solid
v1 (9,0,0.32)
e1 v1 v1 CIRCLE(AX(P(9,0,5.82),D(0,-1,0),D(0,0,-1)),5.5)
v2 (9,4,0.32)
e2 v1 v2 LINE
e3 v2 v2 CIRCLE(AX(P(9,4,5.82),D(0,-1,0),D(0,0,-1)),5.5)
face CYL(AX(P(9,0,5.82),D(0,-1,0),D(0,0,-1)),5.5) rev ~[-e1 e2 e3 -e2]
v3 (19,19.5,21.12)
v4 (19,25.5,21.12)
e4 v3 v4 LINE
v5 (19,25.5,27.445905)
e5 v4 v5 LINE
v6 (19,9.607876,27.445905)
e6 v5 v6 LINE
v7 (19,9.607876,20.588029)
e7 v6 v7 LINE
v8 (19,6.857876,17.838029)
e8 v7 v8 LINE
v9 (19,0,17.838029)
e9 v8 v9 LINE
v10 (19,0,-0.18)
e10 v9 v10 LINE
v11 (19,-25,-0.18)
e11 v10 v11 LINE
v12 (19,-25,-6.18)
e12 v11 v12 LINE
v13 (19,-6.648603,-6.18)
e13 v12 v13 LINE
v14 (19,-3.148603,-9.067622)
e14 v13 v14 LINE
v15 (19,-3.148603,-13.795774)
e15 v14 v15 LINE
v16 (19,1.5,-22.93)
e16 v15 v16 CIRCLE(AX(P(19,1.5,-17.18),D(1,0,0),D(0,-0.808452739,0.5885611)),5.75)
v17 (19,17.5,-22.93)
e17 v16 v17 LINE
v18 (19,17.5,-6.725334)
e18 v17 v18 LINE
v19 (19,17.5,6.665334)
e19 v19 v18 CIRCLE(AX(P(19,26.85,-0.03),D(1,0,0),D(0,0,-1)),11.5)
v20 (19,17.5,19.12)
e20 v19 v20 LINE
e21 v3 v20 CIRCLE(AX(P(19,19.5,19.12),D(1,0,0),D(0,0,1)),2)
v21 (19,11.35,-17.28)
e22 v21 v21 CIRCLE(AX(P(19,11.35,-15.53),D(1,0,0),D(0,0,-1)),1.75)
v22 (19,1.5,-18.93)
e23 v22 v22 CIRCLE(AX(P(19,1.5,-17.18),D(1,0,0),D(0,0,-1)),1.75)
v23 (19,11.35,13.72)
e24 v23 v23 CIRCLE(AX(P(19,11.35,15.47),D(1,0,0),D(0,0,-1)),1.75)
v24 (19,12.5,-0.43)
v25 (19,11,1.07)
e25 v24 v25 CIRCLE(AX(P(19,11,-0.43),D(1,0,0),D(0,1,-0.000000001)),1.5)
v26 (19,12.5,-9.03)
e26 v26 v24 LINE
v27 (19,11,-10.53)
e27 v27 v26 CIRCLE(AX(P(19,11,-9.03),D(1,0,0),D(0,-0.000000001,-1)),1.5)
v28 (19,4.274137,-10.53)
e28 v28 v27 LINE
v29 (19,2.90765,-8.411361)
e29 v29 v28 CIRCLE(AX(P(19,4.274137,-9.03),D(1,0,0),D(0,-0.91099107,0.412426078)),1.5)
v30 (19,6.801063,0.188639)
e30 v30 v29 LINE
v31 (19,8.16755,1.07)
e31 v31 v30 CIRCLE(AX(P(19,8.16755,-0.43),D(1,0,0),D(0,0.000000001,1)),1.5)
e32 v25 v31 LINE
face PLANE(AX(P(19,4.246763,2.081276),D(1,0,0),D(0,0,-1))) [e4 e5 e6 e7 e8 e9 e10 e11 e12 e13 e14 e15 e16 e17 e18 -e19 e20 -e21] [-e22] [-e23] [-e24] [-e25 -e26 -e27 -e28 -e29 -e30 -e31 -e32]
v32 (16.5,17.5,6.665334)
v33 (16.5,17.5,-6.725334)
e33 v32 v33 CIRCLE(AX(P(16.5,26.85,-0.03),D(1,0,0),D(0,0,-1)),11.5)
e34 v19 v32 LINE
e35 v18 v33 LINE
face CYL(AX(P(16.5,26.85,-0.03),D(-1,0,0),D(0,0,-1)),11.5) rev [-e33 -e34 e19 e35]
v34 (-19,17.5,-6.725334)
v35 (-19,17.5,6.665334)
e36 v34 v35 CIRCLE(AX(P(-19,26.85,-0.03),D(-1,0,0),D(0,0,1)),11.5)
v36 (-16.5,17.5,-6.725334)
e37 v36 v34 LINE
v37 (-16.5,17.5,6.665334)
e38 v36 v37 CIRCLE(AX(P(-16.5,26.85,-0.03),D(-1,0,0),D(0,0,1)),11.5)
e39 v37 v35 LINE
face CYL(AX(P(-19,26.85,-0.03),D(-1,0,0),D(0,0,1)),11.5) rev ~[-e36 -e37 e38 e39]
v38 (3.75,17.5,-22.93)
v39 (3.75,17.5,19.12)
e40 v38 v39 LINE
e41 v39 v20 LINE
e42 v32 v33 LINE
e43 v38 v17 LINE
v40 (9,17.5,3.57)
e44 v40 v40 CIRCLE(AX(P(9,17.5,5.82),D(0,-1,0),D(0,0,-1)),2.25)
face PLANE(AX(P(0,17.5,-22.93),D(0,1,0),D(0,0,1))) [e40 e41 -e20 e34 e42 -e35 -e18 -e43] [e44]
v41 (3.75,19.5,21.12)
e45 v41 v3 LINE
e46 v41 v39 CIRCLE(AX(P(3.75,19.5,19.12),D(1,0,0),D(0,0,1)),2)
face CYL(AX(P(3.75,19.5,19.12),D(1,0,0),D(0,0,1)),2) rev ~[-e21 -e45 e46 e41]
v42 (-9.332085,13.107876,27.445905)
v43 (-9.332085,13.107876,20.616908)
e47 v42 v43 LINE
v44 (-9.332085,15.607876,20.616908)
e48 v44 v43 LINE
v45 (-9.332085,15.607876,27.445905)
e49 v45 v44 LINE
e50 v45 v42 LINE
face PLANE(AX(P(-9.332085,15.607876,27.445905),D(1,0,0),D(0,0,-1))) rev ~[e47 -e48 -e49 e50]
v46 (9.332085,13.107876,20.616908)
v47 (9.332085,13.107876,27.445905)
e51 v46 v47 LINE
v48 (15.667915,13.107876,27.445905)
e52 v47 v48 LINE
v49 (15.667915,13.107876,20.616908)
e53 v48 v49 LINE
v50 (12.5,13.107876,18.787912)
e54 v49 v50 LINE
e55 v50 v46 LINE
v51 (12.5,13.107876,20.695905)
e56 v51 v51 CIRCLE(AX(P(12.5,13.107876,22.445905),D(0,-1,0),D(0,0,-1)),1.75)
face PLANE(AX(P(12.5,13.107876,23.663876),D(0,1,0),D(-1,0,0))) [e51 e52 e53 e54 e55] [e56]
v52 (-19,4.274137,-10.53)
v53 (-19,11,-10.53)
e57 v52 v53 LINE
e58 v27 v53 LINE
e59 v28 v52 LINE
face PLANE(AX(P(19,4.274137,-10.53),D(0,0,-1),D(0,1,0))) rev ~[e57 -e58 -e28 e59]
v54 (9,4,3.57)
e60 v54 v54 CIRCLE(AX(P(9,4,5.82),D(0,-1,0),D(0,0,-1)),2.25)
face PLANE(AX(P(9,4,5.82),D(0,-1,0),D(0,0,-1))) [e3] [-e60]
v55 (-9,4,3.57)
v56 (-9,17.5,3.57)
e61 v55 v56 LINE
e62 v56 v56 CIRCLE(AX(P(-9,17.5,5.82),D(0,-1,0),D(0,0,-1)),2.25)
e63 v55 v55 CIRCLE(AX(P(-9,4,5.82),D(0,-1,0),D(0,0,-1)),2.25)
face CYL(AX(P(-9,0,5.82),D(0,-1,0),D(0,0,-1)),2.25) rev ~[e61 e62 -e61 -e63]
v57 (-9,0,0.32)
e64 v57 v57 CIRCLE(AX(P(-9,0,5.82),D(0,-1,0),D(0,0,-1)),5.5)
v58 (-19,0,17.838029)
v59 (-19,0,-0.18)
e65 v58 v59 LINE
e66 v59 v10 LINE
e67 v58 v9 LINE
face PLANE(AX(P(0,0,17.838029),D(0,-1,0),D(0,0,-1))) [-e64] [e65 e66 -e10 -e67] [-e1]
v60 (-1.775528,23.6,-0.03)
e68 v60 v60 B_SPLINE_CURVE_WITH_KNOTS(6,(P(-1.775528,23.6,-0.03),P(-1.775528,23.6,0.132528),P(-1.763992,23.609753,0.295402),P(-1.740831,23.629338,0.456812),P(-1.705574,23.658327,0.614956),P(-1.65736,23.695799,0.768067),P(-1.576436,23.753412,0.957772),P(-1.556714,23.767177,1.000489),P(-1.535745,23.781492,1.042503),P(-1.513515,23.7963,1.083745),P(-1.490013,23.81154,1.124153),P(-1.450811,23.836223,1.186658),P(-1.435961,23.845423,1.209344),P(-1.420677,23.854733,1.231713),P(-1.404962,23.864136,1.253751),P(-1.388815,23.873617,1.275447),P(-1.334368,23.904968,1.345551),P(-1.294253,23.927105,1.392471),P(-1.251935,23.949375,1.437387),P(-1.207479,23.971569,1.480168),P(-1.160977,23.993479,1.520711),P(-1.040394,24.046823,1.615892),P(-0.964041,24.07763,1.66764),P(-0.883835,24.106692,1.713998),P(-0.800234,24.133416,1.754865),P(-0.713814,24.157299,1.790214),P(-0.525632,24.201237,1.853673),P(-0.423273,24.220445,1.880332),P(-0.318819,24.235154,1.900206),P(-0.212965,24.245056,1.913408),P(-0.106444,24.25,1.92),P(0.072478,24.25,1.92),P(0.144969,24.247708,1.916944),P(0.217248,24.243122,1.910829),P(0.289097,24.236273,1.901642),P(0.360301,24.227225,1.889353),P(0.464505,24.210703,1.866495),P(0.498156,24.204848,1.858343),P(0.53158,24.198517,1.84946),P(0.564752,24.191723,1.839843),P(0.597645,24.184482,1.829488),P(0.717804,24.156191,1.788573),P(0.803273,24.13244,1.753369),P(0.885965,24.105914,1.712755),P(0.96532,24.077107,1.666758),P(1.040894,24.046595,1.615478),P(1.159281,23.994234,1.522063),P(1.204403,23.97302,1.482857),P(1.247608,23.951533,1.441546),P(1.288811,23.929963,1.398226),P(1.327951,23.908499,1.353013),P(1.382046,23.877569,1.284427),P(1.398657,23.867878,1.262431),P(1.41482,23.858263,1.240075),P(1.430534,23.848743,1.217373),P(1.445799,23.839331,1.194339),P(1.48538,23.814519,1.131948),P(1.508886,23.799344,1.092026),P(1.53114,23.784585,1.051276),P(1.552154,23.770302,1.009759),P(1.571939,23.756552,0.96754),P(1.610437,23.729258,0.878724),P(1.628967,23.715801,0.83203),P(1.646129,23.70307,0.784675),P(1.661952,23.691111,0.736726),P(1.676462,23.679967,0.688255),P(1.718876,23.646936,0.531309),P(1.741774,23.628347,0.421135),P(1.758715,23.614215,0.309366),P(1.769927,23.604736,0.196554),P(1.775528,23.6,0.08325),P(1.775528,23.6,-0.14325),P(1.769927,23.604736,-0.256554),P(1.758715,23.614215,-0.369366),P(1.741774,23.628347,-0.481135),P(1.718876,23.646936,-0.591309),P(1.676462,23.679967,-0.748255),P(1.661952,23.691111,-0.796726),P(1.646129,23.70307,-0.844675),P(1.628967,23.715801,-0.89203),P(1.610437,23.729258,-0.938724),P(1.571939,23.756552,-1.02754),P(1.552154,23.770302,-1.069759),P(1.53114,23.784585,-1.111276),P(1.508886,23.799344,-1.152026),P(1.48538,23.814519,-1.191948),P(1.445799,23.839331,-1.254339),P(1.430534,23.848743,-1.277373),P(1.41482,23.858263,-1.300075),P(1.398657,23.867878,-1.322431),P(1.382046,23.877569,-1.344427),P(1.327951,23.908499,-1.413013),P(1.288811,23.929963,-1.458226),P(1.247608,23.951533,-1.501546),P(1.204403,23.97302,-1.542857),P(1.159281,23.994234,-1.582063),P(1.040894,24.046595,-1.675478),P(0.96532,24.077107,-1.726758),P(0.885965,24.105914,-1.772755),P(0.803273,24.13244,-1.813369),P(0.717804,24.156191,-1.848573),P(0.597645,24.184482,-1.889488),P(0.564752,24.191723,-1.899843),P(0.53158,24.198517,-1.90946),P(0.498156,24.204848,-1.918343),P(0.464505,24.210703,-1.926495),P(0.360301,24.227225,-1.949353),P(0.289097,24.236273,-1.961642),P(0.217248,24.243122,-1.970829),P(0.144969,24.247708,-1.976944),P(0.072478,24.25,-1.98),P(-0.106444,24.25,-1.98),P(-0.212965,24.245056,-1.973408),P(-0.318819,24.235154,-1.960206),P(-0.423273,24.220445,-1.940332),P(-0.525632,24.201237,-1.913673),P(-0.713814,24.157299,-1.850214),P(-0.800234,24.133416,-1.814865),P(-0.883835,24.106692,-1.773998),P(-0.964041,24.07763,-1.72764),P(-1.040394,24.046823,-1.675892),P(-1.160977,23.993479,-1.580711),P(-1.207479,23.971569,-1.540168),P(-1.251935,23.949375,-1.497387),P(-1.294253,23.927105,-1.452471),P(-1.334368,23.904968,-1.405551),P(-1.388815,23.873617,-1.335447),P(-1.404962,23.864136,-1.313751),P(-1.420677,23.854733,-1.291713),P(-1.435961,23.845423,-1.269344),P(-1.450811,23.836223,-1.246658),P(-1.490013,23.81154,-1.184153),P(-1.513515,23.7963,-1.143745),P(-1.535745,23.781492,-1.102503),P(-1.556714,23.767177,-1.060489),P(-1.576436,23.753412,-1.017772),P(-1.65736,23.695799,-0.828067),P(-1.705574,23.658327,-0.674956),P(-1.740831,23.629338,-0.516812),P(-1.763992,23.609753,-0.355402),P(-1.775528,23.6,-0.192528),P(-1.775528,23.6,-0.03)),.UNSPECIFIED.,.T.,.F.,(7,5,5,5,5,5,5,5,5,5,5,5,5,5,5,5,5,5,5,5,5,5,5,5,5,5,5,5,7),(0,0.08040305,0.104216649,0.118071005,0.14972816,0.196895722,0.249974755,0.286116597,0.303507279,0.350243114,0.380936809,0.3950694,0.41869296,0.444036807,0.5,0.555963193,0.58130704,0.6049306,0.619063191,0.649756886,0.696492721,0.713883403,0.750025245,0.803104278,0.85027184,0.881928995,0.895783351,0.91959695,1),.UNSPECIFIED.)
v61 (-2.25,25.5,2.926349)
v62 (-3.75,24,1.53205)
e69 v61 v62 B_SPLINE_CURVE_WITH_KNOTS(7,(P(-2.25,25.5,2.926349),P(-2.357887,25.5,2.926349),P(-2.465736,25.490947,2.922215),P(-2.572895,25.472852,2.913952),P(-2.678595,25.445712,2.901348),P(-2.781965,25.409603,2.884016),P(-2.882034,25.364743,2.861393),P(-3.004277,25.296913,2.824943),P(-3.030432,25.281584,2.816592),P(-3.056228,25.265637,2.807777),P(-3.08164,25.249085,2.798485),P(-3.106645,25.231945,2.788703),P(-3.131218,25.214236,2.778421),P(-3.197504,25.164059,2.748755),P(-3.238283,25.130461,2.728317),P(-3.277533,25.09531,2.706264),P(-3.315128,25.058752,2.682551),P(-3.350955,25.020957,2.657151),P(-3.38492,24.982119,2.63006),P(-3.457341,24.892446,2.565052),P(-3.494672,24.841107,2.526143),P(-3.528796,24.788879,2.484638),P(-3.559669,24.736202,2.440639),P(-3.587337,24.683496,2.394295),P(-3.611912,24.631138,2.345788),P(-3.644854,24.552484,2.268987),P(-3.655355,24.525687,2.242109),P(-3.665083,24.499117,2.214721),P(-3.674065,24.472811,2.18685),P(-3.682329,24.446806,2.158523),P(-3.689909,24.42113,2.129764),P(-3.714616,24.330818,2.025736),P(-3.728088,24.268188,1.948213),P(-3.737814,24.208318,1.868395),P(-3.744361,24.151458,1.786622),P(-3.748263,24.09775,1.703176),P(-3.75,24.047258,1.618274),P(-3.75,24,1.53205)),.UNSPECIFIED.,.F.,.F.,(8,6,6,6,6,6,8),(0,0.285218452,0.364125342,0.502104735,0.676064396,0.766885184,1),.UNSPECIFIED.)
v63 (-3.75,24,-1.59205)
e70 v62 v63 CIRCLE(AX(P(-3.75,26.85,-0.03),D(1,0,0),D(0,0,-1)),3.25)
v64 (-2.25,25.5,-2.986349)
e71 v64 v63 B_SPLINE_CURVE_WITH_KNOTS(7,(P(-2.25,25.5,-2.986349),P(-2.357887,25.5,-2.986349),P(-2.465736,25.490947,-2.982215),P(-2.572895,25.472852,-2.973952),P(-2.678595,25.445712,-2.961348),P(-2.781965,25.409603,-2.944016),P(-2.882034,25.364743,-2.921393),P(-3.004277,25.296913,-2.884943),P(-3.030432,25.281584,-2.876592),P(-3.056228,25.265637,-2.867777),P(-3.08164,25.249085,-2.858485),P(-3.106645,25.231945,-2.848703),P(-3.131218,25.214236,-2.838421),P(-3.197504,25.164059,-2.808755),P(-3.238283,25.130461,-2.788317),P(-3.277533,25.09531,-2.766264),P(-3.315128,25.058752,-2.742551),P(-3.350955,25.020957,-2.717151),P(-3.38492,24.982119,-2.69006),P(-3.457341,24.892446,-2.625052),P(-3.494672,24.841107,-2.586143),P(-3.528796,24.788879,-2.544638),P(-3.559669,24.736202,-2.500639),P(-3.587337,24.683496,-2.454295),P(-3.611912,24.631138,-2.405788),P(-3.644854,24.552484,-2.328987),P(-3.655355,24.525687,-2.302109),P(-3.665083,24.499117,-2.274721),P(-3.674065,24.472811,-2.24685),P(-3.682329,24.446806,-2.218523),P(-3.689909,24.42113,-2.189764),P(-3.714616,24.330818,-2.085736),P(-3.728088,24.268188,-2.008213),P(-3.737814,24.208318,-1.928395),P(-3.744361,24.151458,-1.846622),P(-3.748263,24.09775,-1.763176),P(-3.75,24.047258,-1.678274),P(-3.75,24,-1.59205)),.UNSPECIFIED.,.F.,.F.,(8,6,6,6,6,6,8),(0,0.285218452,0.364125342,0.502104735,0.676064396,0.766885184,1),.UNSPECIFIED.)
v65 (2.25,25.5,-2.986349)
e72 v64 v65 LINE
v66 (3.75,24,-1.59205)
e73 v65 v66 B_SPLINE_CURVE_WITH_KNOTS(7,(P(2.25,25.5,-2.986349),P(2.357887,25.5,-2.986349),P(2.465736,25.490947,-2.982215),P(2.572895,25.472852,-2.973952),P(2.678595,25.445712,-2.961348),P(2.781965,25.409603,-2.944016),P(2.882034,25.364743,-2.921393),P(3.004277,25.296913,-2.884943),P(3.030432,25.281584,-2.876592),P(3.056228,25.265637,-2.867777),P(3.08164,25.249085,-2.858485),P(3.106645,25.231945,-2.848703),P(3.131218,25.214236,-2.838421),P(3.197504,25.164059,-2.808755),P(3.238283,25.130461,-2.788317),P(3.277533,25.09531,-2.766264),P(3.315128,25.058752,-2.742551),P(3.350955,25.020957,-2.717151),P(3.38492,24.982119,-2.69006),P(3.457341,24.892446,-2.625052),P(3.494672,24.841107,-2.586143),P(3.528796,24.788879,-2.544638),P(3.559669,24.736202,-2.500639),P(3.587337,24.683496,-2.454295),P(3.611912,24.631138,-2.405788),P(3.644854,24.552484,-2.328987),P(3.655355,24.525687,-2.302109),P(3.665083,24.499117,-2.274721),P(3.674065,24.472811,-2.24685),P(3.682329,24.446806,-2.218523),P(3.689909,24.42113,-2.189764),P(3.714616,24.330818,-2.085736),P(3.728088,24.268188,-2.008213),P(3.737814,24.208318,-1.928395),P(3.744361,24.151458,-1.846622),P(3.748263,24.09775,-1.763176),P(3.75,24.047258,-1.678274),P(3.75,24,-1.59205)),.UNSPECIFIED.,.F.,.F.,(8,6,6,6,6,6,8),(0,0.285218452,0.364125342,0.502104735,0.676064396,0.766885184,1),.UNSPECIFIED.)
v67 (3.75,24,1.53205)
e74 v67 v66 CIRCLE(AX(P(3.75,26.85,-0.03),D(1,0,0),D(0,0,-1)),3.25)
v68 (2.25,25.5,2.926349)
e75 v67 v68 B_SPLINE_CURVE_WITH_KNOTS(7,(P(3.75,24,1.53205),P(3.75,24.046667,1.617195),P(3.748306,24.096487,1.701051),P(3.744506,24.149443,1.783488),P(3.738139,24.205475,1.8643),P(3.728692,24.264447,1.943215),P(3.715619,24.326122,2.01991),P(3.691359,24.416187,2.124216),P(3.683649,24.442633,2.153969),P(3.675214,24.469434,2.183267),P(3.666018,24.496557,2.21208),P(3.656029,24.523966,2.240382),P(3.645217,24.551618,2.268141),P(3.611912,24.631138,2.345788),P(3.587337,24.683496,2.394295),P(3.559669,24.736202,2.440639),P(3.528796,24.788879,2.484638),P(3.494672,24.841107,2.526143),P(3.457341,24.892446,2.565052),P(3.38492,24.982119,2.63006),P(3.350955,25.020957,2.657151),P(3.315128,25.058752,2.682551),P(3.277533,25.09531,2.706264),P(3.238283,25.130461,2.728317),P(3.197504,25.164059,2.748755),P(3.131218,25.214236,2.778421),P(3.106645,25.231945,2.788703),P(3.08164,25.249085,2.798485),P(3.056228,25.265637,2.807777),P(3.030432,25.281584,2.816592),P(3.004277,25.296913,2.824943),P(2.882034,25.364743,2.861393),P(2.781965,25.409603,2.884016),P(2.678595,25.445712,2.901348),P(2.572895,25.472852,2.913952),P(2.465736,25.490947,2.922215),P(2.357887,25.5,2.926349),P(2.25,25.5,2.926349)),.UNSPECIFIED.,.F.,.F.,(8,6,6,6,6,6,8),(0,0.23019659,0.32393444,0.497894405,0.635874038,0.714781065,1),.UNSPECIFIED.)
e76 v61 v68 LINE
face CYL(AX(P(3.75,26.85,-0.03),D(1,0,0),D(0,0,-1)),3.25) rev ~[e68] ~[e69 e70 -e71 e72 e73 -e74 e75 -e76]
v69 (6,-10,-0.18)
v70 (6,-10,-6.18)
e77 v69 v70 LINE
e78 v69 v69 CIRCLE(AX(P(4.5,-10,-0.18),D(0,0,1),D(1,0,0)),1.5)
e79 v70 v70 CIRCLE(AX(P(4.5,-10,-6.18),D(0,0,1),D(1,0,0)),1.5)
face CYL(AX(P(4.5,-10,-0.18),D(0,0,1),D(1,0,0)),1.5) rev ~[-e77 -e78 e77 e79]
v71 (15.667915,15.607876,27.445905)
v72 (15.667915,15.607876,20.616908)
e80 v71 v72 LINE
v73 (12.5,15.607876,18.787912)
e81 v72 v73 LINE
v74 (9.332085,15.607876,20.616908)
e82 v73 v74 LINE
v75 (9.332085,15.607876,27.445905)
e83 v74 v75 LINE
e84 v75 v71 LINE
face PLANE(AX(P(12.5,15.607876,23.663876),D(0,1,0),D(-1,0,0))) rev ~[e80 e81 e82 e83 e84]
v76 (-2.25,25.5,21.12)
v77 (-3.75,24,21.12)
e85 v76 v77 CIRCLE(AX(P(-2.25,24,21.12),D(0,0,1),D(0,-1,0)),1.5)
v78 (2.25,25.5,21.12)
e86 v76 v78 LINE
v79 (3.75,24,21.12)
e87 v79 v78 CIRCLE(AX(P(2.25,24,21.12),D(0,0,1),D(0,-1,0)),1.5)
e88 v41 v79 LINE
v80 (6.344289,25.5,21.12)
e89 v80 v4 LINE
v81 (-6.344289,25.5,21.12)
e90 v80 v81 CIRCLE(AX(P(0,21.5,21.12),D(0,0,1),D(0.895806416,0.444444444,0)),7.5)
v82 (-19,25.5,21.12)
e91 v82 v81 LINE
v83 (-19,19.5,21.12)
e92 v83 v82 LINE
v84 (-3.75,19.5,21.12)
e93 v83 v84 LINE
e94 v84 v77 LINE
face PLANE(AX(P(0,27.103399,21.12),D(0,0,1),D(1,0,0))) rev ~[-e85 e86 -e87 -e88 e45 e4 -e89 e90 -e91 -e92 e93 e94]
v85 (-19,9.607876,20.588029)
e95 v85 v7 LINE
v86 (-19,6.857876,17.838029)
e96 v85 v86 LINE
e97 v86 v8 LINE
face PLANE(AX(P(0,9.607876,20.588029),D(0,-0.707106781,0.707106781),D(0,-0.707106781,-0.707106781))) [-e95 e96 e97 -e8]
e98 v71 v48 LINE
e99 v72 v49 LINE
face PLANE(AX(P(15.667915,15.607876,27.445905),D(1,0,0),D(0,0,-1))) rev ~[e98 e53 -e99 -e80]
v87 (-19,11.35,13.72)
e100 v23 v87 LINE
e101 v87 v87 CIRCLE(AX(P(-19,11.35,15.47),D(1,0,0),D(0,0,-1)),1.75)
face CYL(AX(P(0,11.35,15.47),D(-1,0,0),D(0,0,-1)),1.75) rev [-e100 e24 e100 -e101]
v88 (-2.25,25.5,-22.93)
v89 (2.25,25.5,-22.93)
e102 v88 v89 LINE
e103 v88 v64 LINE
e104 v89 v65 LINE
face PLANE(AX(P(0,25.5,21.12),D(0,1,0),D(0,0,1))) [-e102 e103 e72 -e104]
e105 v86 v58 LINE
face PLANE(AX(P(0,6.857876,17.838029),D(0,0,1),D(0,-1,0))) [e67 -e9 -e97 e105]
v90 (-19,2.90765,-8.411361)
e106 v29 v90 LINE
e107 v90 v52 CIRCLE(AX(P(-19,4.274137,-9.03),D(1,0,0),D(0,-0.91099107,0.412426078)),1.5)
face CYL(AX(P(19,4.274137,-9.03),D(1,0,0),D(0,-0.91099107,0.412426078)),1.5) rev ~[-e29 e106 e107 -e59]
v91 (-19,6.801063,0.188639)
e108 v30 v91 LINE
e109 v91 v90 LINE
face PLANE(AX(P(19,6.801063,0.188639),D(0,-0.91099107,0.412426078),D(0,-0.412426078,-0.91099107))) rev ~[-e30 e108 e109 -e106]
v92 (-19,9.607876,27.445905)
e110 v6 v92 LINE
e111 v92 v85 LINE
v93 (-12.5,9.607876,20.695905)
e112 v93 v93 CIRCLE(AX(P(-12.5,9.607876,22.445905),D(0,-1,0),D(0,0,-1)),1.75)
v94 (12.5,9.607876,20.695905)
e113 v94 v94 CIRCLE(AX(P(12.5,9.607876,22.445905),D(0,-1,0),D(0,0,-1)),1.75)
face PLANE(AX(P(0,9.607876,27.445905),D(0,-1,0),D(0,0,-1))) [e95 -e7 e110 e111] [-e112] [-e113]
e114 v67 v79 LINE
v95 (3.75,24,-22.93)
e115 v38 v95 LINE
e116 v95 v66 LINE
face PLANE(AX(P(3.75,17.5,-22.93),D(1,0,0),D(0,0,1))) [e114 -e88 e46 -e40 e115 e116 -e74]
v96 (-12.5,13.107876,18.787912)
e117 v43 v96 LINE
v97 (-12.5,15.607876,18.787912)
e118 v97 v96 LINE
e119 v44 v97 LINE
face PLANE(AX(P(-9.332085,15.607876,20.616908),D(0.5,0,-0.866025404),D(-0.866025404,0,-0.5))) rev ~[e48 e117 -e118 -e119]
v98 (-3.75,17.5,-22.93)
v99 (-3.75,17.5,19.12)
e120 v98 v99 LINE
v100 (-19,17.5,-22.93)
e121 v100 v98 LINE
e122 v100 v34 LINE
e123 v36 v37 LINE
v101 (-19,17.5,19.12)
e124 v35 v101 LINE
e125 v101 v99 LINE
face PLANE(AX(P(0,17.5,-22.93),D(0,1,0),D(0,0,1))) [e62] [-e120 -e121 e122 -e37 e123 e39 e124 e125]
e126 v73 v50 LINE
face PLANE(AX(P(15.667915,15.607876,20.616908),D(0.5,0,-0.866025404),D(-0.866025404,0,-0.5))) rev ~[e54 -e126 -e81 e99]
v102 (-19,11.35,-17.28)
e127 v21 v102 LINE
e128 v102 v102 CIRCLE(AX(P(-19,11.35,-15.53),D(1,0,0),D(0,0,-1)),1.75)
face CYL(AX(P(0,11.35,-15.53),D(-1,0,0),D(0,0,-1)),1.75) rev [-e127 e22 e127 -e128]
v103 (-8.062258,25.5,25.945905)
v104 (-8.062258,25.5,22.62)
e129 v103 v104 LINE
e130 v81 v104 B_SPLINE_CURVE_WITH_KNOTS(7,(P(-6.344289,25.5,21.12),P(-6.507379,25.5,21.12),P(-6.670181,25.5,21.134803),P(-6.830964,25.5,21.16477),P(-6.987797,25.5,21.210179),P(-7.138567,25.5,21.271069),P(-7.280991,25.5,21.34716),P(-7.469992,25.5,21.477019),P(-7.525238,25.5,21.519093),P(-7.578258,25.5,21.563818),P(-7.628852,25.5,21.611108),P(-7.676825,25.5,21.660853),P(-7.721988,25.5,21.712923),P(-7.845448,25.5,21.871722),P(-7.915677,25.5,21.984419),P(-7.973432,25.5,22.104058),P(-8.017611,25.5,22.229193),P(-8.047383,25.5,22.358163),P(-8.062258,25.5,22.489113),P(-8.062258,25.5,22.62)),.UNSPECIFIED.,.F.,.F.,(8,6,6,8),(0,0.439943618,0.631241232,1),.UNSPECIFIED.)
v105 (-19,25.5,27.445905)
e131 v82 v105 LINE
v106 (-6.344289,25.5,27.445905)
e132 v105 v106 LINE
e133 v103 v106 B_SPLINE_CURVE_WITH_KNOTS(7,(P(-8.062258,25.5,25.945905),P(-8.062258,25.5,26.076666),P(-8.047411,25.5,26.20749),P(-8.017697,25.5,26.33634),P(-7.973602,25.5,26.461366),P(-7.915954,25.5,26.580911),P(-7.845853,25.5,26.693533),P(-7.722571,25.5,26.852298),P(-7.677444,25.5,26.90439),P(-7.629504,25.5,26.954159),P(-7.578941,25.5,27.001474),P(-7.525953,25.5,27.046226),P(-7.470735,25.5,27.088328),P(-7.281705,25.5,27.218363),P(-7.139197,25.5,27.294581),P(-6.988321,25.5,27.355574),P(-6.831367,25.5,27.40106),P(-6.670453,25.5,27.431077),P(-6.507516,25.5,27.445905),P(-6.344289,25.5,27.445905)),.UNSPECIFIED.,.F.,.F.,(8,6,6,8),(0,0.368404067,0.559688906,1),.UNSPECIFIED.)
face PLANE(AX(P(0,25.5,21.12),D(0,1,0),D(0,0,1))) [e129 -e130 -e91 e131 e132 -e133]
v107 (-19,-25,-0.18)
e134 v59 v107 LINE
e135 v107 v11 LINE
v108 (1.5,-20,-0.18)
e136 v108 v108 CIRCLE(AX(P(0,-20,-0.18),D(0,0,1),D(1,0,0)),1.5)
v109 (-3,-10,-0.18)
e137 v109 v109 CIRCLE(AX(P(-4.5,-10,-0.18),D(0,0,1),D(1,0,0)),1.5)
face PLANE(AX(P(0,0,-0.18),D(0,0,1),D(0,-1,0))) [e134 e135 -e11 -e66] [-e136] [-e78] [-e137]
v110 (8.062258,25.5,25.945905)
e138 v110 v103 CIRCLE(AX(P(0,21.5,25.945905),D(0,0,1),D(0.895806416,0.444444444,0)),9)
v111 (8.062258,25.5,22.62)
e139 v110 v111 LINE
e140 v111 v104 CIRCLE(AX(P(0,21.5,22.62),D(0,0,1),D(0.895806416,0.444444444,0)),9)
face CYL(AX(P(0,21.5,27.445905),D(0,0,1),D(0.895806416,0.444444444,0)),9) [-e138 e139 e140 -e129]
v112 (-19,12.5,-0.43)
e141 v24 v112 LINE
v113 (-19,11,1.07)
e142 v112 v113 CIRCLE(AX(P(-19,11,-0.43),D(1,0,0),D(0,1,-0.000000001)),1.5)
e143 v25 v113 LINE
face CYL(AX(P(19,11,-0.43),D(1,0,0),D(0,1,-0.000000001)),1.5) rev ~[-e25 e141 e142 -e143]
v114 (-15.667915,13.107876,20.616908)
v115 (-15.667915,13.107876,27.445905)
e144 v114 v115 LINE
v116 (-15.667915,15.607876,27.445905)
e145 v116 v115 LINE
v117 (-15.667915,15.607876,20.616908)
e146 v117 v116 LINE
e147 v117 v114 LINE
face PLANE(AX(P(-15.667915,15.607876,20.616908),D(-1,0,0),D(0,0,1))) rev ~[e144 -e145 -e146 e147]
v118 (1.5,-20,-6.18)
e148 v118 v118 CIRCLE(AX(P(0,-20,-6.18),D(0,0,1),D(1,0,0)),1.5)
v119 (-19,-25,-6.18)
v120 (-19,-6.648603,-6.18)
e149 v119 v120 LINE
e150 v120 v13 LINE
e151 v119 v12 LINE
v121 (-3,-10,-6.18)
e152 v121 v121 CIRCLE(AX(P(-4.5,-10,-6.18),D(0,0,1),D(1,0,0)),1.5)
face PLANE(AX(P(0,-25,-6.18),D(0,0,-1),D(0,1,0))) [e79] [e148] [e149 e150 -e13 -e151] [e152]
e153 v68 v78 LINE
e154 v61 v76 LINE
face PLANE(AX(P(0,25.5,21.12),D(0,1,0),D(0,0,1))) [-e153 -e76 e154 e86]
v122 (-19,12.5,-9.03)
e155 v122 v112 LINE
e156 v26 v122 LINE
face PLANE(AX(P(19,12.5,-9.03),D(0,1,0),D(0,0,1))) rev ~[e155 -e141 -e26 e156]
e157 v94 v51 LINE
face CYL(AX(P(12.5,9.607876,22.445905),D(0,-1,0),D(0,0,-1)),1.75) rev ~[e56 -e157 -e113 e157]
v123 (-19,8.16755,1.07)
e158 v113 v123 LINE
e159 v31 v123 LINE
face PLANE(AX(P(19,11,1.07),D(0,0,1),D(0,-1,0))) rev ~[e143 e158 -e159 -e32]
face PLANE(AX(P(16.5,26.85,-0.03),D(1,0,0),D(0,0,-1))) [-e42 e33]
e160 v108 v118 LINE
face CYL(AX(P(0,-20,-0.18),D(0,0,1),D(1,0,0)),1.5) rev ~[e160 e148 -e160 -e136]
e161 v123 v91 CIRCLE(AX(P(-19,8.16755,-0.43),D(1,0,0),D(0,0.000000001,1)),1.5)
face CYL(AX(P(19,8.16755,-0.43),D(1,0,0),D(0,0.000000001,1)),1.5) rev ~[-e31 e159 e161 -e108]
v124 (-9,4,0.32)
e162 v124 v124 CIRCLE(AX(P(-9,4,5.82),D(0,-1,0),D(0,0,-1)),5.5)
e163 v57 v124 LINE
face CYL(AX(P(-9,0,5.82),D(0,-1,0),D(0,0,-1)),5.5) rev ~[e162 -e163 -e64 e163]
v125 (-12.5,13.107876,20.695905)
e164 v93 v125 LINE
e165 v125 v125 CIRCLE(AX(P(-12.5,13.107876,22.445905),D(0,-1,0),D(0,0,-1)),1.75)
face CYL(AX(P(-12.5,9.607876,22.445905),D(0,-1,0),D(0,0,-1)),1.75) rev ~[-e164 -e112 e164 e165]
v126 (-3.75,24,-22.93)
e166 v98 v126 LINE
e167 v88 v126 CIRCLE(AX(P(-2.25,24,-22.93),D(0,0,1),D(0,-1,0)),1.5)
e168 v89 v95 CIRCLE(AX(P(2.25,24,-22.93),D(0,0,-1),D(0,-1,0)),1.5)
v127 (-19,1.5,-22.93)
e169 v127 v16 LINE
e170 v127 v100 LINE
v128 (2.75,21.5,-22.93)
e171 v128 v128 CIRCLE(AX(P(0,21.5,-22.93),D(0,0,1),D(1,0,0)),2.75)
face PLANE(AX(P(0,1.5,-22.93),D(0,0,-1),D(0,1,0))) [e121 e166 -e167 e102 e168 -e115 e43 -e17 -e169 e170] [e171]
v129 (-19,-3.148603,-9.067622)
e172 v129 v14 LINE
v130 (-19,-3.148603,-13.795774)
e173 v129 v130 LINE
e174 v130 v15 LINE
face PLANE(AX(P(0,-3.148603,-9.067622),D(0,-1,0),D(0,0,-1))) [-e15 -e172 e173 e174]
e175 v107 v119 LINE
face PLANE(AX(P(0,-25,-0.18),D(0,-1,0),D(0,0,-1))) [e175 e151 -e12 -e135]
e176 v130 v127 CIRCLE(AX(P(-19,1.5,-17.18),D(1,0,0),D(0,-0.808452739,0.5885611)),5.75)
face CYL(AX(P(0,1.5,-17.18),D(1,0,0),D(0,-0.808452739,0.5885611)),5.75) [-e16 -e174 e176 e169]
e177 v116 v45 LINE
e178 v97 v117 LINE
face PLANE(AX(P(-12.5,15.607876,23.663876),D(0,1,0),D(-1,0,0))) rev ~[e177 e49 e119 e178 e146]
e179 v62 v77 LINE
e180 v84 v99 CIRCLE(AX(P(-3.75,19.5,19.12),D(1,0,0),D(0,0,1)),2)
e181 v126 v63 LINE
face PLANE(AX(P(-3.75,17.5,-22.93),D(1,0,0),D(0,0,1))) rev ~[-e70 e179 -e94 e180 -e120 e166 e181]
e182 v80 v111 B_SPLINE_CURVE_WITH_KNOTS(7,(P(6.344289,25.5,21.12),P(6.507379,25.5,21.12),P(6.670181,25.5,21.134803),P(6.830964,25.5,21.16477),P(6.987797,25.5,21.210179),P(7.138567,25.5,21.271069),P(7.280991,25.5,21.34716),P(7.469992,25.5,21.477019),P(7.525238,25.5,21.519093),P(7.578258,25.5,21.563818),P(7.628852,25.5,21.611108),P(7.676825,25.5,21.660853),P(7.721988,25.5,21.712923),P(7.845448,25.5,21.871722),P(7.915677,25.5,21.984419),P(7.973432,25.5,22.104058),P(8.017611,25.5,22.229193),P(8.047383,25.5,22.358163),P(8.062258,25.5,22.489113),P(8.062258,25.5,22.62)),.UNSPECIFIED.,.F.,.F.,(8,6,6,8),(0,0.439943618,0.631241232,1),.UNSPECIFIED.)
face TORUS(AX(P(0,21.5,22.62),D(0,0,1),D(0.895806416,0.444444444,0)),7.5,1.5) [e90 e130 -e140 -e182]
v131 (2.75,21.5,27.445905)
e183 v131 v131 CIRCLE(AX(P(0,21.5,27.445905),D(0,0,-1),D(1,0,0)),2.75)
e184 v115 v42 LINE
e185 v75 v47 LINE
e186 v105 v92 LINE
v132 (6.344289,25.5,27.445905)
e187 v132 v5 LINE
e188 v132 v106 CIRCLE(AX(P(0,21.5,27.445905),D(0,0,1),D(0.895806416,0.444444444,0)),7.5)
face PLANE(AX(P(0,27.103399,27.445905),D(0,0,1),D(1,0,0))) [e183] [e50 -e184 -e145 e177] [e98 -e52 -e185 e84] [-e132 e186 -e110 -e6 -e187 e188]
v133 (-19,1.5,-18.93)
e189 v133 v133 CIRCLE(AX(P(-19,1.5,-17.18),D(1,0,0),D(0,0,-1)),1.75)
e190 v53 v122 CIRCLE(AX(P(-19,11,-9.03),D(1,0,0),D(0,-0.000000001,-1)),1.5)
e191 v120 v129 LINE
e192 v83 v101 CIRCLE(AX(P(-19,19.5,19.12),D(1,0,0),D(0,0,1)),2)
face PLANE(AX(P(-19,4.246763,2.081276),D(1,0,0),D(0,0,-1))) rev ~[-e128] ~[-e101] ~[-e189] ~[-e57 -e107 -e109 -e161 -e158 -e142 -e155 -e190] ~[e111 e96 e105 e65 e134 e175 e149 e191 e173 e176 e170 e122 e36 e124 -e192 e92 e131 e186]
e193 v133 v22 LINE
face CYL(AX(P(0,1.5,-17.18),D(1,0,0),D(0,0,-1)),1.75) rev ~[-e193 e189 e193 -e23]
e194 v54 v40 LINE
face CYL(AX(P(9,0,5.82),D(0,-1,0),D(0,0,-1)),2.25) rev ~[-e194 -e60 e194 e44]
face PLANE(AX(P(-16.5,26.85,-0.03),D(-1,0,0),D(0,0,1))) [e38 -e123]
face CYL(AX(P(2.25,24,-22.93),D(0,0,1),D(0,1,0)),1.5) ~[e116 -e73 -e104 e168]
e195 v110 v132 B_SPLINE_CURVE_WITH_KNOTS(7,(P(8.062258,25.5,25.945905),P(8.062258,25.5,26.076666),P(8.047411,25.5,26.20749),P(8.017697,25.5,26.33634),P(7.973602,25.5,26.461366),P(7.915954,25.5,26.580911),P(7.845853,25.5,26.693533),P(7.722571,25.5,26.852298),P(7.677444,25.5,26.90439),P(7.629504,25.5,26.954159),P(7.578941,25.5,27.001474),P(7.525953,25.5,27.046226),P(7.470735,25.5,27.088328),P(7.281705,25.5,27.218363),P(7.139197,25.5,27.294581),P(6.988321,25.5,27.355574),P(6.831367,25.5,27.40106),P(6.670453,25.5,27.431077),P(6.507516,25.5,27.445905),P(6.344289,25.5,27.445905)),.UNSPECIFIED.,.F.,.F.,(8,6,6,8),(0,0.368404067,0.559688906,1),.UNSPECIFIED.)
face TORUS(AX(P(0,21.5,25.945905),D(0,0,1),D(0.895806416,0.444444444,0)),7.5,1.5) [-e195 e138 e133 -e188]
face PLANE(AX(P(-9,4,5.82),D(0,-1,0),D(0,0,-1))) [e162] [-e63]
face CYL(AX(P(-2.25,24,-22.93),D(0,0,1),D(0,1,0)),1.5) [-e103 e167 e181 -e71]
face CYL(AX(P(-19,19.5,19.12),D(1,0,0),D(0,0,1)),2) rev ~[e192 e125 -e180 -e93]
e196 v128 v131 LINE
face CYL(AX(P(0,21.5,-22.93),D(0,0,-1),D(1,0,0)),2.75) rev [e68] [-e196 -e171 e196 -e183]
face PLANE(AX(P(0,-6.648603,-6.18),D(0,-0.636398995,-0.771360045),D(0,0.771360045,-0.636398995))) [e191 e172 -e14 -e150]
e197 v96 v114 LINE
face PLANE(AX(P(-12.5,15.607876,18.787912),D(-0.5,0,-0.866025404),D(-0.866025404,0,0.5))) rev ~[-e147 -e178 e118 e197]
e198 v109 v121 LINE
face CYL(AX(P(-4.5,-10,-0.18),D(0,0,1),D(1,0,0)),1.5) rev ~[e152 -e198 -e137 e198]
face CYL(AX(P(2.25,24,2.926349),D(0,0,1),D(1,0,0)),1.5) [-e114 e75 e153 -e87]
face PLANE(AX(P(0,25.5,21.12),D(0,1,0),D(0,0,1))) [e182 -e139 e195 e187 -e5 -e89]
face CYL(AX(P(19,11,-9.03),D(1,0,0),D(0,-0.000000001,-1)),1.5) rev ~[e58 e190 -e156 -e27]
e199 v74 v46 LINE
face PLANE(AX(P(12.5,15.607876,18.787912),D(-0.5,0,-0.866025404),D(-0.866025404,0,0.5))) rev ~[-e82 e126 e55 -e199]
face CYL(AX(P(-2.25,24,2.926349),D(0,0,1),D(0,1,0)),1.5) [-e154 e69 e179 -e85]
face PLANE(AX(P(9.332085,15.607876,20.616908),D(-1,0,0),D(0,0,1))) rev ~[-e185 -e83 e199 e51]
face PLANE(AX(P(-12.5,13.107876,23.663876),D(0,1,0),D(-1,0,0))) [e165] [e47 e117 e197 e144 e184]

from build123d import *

# Parameters (mm, degrees)
BOSS_EXTRUDE5_DEPTH = 19
BOSS_EXTRUDE6_DEPTH = 8
BOSS_EXTRUDE7_DEPTH = 6.325904881
SKETCH11_R          = 1.75
CUT_MOTOR_DEPTH     = 19
SKETCH12_R          = 1.5
CUT_EXTRUDE7_DEPTH  = 46.325937613
SKETCH13_R          = 2.25
CUT_EXTRUDE8_DEPTH  = 46.216453805
SKETCH14_R          = 5.5
CUT_EXTRUDE9_DEPTH  = 4
SKETCH16_R          = 11.5
CUT_MOTOR_L_DEPTH   = 2.5
CUT_MOTOR_R_START   = -2.5
SKETCH15_R          = 11.5
CUT_MOTOR_R_DEPTH   = 2.5
SKETCH19_R          = 3.25
CUT_EXTRUDE10_DEPTH = 8
SKETCH20_R          = 2.75
CUT_EXTRUDE11_DEPTH = 62.878766896
CUT_EXTRUDE12_DEPTH = 56.924303306
FILLET1_R           = 2
FILLET2_R           = 1.5
FILLET3_R           = 1.5
SKETCH24_R          = 1.75
CUT_EXTRUDE14_DEPTH = 6
CUT_EXTRUDE15_DEPTH = 2.5


with BuildPart() as part:
    # Sketch10 → Boss-Extrude5 (new, symmetric)
    with BuildSketch(Plane(origin=(0, 0, 0), x_dir=(0, 0, -1), z_dir=(1, 0, 0))):
        with BuildLine():
            Line((-27.445904881, 9.607875665), (-20.588029216, 9.607875665))
            Line((-20.588029216, 9.607875665), (-17.838029216, 6.857875665))
            Line((-17.838029216, 6.857875665), (-17.838029216, 0))
            Line((-17.838029216, 0), (0.18, 0))
            Line((0.18, 0), (0.18, -25))
            Line((0.18, -25), (6.18, -25))
            Line((6.18, -25), (6.18, -6.648603252))
            Line((6.18, -6.648603252), (9.067622319, -3.148603252))
            Line((9.067622319, -3.148603252), (13.795773677, -3.148603252))
            ThreePointArc((13.795773677, -3.148603252), (19.7879876, -3.62453907), (22.93, 1.5))
            Line((22.93, 1.5), (22.93, 17.5))
            Line((22.93, 17.5), (-21.12, 17.5))
            Line((-21.12, 17.5), (-21.12, 25.5))
            Line((-21.12, 25.5), (-27.445904881, 25.5))
            Line((-27.445904881, 25.5), (-27.445904881, 9.607875665))
        make_face()
    extrude(amount=BOSS_EXTRUDE5_DEPTH, both=True)

    # Sketch18 → Boss-Extrude6 (add)
    with BuildSketch(Plane(origin=(0, 17.5, 0), x_dir=(1, 0, 0), z_dir=(0, 1, 0))):
        Polygon((-3.75, 22.93), (3.75, 22.93), (3.75, -21.12), (-3.75, -21.12), (-3.75, 14.93), align=None)
    extrude(amount=BOSS_EXTRUDE6_DEPTH)

    # Sketch21 → Boss-Extrude7 (add)
    with BuildSketch(Plane(origin=(0, 0, 27.445904881), x_dir=(-1, 0, 0), z_dir=(0, 0, -1))):
        with BuildLine():
            Line((8.062257748, 25.5), (-8.062257748, 25.5))
            ThreePointArc((-8.062257748, 25.5), (0, 30.5), (8.062257748, 25.5))
        make_face()
    extrude(amount=BOSS_EXTRUDE7_DEPTH)

    # Sketch11 → Cut-Motor (cut, symmetric)
    with BuildSketch(Plane(origin=(0, 0, 0), x_dir=(0, 0, -1), z_dir=(1, 0, 0))):
        with Locations((-15.47, 11.35)):
            Circle(SKETCH11_R)
        with Locations((15.53, 11.35)):
            Circle(SKETCH11_R)
        with Locations((17.18, 1.5)):
            Circle(SKETCH11_R)
    extrude(amount=CUT_MOTOR_DEPTH, both=True, mode=Mode.SUBTRACT)

    # Sketch12 → Cut-Extrude7 (cut, through all)
    with BuildSketch(Plane.XY.offset(-0.18)):
        with Locations((0, -20)):
            Circle(SKETCH12_R)
        with Locations((4.5, -10)):
            Circle(SKETCH12_R)
        with Locations((-4.5, -10)):
            Circle(SKETCH12_R)
    extrude(amount=-CUT_EXTRUDE7_DEPTH, mode=Mode.SUBTRACT)

    # Sketch13 → Cut-Extrude8 (cut, through all)
    with BuildSketch(Plane.XZ):
        with Locations(Location((-9, 5.82, 0), (0, 0, 270))):
            Circle(SKETCH13_R)
        with Locations(Location((9, 5.82, 0), (0, 0, 270))):
            Circle(SKETCH13_R)
    extrude(amount=-CUT_EXTRUDE8_DEPTH, mode=Mode.SUBTRACT)

    # Sketch14 → Cut-Extrude9 (cut)
    with BuildSketch(Plane.XZ):
        with Locations(Location((9, 5.82, 0), (0, 0, 270))):
            Circle(SKETCH14_R)
        with Locations(Location((-9, 5.82, 0), (0, 0, 270))):
            Circle(SKETCH14_R)
    extrude(amount=-CUT_EXTRUDE9_DEPTH, mode=Mode.SUBTRACT)

    # Sketch16 → Cut-Motor-L (cut)
    with BuildSketch(Plane.ZY.offset(19)):
        with Locations((-0.03, 26.85)):
            Circle(SKETCH16_R)
    extrude(amount=-CUT_MOTOR_L_DEPTH, mode=Mode.SUBTRACT)

    # Sketch15 → Cut-Motor-R (cut)
    with BuildSketch(Plane(origin=(19, 0, 0), x_dir=(0, 0, -1), z_dir=(1, 0, 0)).offset(CUT_MOTOR_R_START)):
        with Locations((0.03, 26.85)):
            Circle(SKETCH15_R)
    extrude(amount=CUT_MOTOR_R_DEPTH, mode=Mode.SUBTRACT)

    # Sketch19 → Cut-Extrude10 (cut)
    with BuildSketch(Plane(origin=(3.75, 0, 0), x_dir=(0, 0, -1), z_dir=(1, 0, 0))):
        with Locations((0.03, 26.85)):
            Circle(SKETCH19_R)
    extrude(amount=-CUT_EXTRUDE10_DEPTH, mode=Mode.SUBTRACT)

    # Sketch20 → Cut-Extrude11 (cut, through all)
    with BuildSketch(Plane.XY.offset(-22.93)):
        with Locations((0, 21.5)):
            Circle(SKETCH20_R)
    extrude(amount=CUT_EXTRUDE11_DEPTH, mode=Mode.SUBTRACT)

    # Sketch22 → Cut-Extrude12 (cut, through all)
    with BuildSketch(Plane(origin=(19, 0, 0), x_dir=(0, 0, -1), z_dir=(1, 0, 0))):
        with BuildLine():
            Line((-0.188639117, 6.801063089), (8.411360883, 2.907650311))
            ThreePointArc((8.411360883, 2.907650311), (9.843031772, 3.013589679), (10.53, 4.274136916))
            Line((10.53, 4.274136916), (10.53, 11))
            ThreePointArc((10.53, 11), (10.090660172, 12.060660172), (9.03, 12.5))
            Line((9.03, 12.5), (0.43, 12.5))
            ThreePointArc((0.43, 12.5), (-0.630660172, 12.060660172), (-1.07, 11))
            Line((-1.07, 11), (-1.07, 8.167549694))
            ThreePointArc((-1.07, 8.167549694), (-0.830547238, 7.354517922), (-0.188639117, 6.801063089))
        make_face()
    extrude(amount=-CUT_EXTRUDE12_DEPTH, mode=Mode.SUBTRACT)

    # Fillet1
    fillet1_edges = [part.edges().sort_by_distance(p)[0] for p in [
        (11.375, 17.5, 21.12),
        (-11.375, 17.5, 21.12),
    ]]
    fillet(fillet1_edges, radius=FILLET1_R)

    # Fillet2
    fillet2_edges = [part.edges().sort_by_distance(p)[0] for p in [
        (0, 30.5, 21.12),
        (0, 30.5, 27.445904881),
    ]]
    fillet(fillet2_edges, radius=FILLET2_R)

    # Fillet3
    fillet3_edges = [part.edges().sort_by_distance(p)[0] for p in [
        (3.75, 25.5, -12.95817455),
        (-3.75, 25.5, 12.02317455),
        (-3.75, 25.5, -12.95817455),
        (3.75, 25.5, 12.02317455),
    ]]
    fillet(fillet3_edges, radius=FILLET3_R)

    # Sketch24 → Cut-Extrude14 (cut)
    with BuildSketch(Plane.XZ.offset(-9.607875665)):
        with Locations(Location((-12.5, 22.445904881, 0), (0, 0, 270))):
            Circle(SKETCH24_R)
        with Locations(Location((12.5, 22.445904881, 0), (0, 0, 270))):
            Circle(SKETCH24_R)
    extrude(amount=-CUT_EXTRUDE14_DEPTH, mode=Mode.SUBTRACT)

    # Sketch25 → Cut-Extrude15 (cut)
    with BuildSketch(Plane.XZ.offset(-15.607875665)):
        Polygon((-15.667914761, 27.445904881), (-9.332085239, 27.445904881), (-9.332085239, 20.616908441), (-12.5, 18.787912001), (-15.667914761, 20.616908441), align=None)
        Polygon((9.332085239, 27.445904881), (15.667914761, 27.445904881), (15.667914761, 20.616908441), (12.5, 18.787912001), (9.332085239, 20.616908441), align=None)
    extrude(amount=CUT_EXTRUDE15_DEPTH, mode=Mode.SUBTRACT)


solid = part.part
